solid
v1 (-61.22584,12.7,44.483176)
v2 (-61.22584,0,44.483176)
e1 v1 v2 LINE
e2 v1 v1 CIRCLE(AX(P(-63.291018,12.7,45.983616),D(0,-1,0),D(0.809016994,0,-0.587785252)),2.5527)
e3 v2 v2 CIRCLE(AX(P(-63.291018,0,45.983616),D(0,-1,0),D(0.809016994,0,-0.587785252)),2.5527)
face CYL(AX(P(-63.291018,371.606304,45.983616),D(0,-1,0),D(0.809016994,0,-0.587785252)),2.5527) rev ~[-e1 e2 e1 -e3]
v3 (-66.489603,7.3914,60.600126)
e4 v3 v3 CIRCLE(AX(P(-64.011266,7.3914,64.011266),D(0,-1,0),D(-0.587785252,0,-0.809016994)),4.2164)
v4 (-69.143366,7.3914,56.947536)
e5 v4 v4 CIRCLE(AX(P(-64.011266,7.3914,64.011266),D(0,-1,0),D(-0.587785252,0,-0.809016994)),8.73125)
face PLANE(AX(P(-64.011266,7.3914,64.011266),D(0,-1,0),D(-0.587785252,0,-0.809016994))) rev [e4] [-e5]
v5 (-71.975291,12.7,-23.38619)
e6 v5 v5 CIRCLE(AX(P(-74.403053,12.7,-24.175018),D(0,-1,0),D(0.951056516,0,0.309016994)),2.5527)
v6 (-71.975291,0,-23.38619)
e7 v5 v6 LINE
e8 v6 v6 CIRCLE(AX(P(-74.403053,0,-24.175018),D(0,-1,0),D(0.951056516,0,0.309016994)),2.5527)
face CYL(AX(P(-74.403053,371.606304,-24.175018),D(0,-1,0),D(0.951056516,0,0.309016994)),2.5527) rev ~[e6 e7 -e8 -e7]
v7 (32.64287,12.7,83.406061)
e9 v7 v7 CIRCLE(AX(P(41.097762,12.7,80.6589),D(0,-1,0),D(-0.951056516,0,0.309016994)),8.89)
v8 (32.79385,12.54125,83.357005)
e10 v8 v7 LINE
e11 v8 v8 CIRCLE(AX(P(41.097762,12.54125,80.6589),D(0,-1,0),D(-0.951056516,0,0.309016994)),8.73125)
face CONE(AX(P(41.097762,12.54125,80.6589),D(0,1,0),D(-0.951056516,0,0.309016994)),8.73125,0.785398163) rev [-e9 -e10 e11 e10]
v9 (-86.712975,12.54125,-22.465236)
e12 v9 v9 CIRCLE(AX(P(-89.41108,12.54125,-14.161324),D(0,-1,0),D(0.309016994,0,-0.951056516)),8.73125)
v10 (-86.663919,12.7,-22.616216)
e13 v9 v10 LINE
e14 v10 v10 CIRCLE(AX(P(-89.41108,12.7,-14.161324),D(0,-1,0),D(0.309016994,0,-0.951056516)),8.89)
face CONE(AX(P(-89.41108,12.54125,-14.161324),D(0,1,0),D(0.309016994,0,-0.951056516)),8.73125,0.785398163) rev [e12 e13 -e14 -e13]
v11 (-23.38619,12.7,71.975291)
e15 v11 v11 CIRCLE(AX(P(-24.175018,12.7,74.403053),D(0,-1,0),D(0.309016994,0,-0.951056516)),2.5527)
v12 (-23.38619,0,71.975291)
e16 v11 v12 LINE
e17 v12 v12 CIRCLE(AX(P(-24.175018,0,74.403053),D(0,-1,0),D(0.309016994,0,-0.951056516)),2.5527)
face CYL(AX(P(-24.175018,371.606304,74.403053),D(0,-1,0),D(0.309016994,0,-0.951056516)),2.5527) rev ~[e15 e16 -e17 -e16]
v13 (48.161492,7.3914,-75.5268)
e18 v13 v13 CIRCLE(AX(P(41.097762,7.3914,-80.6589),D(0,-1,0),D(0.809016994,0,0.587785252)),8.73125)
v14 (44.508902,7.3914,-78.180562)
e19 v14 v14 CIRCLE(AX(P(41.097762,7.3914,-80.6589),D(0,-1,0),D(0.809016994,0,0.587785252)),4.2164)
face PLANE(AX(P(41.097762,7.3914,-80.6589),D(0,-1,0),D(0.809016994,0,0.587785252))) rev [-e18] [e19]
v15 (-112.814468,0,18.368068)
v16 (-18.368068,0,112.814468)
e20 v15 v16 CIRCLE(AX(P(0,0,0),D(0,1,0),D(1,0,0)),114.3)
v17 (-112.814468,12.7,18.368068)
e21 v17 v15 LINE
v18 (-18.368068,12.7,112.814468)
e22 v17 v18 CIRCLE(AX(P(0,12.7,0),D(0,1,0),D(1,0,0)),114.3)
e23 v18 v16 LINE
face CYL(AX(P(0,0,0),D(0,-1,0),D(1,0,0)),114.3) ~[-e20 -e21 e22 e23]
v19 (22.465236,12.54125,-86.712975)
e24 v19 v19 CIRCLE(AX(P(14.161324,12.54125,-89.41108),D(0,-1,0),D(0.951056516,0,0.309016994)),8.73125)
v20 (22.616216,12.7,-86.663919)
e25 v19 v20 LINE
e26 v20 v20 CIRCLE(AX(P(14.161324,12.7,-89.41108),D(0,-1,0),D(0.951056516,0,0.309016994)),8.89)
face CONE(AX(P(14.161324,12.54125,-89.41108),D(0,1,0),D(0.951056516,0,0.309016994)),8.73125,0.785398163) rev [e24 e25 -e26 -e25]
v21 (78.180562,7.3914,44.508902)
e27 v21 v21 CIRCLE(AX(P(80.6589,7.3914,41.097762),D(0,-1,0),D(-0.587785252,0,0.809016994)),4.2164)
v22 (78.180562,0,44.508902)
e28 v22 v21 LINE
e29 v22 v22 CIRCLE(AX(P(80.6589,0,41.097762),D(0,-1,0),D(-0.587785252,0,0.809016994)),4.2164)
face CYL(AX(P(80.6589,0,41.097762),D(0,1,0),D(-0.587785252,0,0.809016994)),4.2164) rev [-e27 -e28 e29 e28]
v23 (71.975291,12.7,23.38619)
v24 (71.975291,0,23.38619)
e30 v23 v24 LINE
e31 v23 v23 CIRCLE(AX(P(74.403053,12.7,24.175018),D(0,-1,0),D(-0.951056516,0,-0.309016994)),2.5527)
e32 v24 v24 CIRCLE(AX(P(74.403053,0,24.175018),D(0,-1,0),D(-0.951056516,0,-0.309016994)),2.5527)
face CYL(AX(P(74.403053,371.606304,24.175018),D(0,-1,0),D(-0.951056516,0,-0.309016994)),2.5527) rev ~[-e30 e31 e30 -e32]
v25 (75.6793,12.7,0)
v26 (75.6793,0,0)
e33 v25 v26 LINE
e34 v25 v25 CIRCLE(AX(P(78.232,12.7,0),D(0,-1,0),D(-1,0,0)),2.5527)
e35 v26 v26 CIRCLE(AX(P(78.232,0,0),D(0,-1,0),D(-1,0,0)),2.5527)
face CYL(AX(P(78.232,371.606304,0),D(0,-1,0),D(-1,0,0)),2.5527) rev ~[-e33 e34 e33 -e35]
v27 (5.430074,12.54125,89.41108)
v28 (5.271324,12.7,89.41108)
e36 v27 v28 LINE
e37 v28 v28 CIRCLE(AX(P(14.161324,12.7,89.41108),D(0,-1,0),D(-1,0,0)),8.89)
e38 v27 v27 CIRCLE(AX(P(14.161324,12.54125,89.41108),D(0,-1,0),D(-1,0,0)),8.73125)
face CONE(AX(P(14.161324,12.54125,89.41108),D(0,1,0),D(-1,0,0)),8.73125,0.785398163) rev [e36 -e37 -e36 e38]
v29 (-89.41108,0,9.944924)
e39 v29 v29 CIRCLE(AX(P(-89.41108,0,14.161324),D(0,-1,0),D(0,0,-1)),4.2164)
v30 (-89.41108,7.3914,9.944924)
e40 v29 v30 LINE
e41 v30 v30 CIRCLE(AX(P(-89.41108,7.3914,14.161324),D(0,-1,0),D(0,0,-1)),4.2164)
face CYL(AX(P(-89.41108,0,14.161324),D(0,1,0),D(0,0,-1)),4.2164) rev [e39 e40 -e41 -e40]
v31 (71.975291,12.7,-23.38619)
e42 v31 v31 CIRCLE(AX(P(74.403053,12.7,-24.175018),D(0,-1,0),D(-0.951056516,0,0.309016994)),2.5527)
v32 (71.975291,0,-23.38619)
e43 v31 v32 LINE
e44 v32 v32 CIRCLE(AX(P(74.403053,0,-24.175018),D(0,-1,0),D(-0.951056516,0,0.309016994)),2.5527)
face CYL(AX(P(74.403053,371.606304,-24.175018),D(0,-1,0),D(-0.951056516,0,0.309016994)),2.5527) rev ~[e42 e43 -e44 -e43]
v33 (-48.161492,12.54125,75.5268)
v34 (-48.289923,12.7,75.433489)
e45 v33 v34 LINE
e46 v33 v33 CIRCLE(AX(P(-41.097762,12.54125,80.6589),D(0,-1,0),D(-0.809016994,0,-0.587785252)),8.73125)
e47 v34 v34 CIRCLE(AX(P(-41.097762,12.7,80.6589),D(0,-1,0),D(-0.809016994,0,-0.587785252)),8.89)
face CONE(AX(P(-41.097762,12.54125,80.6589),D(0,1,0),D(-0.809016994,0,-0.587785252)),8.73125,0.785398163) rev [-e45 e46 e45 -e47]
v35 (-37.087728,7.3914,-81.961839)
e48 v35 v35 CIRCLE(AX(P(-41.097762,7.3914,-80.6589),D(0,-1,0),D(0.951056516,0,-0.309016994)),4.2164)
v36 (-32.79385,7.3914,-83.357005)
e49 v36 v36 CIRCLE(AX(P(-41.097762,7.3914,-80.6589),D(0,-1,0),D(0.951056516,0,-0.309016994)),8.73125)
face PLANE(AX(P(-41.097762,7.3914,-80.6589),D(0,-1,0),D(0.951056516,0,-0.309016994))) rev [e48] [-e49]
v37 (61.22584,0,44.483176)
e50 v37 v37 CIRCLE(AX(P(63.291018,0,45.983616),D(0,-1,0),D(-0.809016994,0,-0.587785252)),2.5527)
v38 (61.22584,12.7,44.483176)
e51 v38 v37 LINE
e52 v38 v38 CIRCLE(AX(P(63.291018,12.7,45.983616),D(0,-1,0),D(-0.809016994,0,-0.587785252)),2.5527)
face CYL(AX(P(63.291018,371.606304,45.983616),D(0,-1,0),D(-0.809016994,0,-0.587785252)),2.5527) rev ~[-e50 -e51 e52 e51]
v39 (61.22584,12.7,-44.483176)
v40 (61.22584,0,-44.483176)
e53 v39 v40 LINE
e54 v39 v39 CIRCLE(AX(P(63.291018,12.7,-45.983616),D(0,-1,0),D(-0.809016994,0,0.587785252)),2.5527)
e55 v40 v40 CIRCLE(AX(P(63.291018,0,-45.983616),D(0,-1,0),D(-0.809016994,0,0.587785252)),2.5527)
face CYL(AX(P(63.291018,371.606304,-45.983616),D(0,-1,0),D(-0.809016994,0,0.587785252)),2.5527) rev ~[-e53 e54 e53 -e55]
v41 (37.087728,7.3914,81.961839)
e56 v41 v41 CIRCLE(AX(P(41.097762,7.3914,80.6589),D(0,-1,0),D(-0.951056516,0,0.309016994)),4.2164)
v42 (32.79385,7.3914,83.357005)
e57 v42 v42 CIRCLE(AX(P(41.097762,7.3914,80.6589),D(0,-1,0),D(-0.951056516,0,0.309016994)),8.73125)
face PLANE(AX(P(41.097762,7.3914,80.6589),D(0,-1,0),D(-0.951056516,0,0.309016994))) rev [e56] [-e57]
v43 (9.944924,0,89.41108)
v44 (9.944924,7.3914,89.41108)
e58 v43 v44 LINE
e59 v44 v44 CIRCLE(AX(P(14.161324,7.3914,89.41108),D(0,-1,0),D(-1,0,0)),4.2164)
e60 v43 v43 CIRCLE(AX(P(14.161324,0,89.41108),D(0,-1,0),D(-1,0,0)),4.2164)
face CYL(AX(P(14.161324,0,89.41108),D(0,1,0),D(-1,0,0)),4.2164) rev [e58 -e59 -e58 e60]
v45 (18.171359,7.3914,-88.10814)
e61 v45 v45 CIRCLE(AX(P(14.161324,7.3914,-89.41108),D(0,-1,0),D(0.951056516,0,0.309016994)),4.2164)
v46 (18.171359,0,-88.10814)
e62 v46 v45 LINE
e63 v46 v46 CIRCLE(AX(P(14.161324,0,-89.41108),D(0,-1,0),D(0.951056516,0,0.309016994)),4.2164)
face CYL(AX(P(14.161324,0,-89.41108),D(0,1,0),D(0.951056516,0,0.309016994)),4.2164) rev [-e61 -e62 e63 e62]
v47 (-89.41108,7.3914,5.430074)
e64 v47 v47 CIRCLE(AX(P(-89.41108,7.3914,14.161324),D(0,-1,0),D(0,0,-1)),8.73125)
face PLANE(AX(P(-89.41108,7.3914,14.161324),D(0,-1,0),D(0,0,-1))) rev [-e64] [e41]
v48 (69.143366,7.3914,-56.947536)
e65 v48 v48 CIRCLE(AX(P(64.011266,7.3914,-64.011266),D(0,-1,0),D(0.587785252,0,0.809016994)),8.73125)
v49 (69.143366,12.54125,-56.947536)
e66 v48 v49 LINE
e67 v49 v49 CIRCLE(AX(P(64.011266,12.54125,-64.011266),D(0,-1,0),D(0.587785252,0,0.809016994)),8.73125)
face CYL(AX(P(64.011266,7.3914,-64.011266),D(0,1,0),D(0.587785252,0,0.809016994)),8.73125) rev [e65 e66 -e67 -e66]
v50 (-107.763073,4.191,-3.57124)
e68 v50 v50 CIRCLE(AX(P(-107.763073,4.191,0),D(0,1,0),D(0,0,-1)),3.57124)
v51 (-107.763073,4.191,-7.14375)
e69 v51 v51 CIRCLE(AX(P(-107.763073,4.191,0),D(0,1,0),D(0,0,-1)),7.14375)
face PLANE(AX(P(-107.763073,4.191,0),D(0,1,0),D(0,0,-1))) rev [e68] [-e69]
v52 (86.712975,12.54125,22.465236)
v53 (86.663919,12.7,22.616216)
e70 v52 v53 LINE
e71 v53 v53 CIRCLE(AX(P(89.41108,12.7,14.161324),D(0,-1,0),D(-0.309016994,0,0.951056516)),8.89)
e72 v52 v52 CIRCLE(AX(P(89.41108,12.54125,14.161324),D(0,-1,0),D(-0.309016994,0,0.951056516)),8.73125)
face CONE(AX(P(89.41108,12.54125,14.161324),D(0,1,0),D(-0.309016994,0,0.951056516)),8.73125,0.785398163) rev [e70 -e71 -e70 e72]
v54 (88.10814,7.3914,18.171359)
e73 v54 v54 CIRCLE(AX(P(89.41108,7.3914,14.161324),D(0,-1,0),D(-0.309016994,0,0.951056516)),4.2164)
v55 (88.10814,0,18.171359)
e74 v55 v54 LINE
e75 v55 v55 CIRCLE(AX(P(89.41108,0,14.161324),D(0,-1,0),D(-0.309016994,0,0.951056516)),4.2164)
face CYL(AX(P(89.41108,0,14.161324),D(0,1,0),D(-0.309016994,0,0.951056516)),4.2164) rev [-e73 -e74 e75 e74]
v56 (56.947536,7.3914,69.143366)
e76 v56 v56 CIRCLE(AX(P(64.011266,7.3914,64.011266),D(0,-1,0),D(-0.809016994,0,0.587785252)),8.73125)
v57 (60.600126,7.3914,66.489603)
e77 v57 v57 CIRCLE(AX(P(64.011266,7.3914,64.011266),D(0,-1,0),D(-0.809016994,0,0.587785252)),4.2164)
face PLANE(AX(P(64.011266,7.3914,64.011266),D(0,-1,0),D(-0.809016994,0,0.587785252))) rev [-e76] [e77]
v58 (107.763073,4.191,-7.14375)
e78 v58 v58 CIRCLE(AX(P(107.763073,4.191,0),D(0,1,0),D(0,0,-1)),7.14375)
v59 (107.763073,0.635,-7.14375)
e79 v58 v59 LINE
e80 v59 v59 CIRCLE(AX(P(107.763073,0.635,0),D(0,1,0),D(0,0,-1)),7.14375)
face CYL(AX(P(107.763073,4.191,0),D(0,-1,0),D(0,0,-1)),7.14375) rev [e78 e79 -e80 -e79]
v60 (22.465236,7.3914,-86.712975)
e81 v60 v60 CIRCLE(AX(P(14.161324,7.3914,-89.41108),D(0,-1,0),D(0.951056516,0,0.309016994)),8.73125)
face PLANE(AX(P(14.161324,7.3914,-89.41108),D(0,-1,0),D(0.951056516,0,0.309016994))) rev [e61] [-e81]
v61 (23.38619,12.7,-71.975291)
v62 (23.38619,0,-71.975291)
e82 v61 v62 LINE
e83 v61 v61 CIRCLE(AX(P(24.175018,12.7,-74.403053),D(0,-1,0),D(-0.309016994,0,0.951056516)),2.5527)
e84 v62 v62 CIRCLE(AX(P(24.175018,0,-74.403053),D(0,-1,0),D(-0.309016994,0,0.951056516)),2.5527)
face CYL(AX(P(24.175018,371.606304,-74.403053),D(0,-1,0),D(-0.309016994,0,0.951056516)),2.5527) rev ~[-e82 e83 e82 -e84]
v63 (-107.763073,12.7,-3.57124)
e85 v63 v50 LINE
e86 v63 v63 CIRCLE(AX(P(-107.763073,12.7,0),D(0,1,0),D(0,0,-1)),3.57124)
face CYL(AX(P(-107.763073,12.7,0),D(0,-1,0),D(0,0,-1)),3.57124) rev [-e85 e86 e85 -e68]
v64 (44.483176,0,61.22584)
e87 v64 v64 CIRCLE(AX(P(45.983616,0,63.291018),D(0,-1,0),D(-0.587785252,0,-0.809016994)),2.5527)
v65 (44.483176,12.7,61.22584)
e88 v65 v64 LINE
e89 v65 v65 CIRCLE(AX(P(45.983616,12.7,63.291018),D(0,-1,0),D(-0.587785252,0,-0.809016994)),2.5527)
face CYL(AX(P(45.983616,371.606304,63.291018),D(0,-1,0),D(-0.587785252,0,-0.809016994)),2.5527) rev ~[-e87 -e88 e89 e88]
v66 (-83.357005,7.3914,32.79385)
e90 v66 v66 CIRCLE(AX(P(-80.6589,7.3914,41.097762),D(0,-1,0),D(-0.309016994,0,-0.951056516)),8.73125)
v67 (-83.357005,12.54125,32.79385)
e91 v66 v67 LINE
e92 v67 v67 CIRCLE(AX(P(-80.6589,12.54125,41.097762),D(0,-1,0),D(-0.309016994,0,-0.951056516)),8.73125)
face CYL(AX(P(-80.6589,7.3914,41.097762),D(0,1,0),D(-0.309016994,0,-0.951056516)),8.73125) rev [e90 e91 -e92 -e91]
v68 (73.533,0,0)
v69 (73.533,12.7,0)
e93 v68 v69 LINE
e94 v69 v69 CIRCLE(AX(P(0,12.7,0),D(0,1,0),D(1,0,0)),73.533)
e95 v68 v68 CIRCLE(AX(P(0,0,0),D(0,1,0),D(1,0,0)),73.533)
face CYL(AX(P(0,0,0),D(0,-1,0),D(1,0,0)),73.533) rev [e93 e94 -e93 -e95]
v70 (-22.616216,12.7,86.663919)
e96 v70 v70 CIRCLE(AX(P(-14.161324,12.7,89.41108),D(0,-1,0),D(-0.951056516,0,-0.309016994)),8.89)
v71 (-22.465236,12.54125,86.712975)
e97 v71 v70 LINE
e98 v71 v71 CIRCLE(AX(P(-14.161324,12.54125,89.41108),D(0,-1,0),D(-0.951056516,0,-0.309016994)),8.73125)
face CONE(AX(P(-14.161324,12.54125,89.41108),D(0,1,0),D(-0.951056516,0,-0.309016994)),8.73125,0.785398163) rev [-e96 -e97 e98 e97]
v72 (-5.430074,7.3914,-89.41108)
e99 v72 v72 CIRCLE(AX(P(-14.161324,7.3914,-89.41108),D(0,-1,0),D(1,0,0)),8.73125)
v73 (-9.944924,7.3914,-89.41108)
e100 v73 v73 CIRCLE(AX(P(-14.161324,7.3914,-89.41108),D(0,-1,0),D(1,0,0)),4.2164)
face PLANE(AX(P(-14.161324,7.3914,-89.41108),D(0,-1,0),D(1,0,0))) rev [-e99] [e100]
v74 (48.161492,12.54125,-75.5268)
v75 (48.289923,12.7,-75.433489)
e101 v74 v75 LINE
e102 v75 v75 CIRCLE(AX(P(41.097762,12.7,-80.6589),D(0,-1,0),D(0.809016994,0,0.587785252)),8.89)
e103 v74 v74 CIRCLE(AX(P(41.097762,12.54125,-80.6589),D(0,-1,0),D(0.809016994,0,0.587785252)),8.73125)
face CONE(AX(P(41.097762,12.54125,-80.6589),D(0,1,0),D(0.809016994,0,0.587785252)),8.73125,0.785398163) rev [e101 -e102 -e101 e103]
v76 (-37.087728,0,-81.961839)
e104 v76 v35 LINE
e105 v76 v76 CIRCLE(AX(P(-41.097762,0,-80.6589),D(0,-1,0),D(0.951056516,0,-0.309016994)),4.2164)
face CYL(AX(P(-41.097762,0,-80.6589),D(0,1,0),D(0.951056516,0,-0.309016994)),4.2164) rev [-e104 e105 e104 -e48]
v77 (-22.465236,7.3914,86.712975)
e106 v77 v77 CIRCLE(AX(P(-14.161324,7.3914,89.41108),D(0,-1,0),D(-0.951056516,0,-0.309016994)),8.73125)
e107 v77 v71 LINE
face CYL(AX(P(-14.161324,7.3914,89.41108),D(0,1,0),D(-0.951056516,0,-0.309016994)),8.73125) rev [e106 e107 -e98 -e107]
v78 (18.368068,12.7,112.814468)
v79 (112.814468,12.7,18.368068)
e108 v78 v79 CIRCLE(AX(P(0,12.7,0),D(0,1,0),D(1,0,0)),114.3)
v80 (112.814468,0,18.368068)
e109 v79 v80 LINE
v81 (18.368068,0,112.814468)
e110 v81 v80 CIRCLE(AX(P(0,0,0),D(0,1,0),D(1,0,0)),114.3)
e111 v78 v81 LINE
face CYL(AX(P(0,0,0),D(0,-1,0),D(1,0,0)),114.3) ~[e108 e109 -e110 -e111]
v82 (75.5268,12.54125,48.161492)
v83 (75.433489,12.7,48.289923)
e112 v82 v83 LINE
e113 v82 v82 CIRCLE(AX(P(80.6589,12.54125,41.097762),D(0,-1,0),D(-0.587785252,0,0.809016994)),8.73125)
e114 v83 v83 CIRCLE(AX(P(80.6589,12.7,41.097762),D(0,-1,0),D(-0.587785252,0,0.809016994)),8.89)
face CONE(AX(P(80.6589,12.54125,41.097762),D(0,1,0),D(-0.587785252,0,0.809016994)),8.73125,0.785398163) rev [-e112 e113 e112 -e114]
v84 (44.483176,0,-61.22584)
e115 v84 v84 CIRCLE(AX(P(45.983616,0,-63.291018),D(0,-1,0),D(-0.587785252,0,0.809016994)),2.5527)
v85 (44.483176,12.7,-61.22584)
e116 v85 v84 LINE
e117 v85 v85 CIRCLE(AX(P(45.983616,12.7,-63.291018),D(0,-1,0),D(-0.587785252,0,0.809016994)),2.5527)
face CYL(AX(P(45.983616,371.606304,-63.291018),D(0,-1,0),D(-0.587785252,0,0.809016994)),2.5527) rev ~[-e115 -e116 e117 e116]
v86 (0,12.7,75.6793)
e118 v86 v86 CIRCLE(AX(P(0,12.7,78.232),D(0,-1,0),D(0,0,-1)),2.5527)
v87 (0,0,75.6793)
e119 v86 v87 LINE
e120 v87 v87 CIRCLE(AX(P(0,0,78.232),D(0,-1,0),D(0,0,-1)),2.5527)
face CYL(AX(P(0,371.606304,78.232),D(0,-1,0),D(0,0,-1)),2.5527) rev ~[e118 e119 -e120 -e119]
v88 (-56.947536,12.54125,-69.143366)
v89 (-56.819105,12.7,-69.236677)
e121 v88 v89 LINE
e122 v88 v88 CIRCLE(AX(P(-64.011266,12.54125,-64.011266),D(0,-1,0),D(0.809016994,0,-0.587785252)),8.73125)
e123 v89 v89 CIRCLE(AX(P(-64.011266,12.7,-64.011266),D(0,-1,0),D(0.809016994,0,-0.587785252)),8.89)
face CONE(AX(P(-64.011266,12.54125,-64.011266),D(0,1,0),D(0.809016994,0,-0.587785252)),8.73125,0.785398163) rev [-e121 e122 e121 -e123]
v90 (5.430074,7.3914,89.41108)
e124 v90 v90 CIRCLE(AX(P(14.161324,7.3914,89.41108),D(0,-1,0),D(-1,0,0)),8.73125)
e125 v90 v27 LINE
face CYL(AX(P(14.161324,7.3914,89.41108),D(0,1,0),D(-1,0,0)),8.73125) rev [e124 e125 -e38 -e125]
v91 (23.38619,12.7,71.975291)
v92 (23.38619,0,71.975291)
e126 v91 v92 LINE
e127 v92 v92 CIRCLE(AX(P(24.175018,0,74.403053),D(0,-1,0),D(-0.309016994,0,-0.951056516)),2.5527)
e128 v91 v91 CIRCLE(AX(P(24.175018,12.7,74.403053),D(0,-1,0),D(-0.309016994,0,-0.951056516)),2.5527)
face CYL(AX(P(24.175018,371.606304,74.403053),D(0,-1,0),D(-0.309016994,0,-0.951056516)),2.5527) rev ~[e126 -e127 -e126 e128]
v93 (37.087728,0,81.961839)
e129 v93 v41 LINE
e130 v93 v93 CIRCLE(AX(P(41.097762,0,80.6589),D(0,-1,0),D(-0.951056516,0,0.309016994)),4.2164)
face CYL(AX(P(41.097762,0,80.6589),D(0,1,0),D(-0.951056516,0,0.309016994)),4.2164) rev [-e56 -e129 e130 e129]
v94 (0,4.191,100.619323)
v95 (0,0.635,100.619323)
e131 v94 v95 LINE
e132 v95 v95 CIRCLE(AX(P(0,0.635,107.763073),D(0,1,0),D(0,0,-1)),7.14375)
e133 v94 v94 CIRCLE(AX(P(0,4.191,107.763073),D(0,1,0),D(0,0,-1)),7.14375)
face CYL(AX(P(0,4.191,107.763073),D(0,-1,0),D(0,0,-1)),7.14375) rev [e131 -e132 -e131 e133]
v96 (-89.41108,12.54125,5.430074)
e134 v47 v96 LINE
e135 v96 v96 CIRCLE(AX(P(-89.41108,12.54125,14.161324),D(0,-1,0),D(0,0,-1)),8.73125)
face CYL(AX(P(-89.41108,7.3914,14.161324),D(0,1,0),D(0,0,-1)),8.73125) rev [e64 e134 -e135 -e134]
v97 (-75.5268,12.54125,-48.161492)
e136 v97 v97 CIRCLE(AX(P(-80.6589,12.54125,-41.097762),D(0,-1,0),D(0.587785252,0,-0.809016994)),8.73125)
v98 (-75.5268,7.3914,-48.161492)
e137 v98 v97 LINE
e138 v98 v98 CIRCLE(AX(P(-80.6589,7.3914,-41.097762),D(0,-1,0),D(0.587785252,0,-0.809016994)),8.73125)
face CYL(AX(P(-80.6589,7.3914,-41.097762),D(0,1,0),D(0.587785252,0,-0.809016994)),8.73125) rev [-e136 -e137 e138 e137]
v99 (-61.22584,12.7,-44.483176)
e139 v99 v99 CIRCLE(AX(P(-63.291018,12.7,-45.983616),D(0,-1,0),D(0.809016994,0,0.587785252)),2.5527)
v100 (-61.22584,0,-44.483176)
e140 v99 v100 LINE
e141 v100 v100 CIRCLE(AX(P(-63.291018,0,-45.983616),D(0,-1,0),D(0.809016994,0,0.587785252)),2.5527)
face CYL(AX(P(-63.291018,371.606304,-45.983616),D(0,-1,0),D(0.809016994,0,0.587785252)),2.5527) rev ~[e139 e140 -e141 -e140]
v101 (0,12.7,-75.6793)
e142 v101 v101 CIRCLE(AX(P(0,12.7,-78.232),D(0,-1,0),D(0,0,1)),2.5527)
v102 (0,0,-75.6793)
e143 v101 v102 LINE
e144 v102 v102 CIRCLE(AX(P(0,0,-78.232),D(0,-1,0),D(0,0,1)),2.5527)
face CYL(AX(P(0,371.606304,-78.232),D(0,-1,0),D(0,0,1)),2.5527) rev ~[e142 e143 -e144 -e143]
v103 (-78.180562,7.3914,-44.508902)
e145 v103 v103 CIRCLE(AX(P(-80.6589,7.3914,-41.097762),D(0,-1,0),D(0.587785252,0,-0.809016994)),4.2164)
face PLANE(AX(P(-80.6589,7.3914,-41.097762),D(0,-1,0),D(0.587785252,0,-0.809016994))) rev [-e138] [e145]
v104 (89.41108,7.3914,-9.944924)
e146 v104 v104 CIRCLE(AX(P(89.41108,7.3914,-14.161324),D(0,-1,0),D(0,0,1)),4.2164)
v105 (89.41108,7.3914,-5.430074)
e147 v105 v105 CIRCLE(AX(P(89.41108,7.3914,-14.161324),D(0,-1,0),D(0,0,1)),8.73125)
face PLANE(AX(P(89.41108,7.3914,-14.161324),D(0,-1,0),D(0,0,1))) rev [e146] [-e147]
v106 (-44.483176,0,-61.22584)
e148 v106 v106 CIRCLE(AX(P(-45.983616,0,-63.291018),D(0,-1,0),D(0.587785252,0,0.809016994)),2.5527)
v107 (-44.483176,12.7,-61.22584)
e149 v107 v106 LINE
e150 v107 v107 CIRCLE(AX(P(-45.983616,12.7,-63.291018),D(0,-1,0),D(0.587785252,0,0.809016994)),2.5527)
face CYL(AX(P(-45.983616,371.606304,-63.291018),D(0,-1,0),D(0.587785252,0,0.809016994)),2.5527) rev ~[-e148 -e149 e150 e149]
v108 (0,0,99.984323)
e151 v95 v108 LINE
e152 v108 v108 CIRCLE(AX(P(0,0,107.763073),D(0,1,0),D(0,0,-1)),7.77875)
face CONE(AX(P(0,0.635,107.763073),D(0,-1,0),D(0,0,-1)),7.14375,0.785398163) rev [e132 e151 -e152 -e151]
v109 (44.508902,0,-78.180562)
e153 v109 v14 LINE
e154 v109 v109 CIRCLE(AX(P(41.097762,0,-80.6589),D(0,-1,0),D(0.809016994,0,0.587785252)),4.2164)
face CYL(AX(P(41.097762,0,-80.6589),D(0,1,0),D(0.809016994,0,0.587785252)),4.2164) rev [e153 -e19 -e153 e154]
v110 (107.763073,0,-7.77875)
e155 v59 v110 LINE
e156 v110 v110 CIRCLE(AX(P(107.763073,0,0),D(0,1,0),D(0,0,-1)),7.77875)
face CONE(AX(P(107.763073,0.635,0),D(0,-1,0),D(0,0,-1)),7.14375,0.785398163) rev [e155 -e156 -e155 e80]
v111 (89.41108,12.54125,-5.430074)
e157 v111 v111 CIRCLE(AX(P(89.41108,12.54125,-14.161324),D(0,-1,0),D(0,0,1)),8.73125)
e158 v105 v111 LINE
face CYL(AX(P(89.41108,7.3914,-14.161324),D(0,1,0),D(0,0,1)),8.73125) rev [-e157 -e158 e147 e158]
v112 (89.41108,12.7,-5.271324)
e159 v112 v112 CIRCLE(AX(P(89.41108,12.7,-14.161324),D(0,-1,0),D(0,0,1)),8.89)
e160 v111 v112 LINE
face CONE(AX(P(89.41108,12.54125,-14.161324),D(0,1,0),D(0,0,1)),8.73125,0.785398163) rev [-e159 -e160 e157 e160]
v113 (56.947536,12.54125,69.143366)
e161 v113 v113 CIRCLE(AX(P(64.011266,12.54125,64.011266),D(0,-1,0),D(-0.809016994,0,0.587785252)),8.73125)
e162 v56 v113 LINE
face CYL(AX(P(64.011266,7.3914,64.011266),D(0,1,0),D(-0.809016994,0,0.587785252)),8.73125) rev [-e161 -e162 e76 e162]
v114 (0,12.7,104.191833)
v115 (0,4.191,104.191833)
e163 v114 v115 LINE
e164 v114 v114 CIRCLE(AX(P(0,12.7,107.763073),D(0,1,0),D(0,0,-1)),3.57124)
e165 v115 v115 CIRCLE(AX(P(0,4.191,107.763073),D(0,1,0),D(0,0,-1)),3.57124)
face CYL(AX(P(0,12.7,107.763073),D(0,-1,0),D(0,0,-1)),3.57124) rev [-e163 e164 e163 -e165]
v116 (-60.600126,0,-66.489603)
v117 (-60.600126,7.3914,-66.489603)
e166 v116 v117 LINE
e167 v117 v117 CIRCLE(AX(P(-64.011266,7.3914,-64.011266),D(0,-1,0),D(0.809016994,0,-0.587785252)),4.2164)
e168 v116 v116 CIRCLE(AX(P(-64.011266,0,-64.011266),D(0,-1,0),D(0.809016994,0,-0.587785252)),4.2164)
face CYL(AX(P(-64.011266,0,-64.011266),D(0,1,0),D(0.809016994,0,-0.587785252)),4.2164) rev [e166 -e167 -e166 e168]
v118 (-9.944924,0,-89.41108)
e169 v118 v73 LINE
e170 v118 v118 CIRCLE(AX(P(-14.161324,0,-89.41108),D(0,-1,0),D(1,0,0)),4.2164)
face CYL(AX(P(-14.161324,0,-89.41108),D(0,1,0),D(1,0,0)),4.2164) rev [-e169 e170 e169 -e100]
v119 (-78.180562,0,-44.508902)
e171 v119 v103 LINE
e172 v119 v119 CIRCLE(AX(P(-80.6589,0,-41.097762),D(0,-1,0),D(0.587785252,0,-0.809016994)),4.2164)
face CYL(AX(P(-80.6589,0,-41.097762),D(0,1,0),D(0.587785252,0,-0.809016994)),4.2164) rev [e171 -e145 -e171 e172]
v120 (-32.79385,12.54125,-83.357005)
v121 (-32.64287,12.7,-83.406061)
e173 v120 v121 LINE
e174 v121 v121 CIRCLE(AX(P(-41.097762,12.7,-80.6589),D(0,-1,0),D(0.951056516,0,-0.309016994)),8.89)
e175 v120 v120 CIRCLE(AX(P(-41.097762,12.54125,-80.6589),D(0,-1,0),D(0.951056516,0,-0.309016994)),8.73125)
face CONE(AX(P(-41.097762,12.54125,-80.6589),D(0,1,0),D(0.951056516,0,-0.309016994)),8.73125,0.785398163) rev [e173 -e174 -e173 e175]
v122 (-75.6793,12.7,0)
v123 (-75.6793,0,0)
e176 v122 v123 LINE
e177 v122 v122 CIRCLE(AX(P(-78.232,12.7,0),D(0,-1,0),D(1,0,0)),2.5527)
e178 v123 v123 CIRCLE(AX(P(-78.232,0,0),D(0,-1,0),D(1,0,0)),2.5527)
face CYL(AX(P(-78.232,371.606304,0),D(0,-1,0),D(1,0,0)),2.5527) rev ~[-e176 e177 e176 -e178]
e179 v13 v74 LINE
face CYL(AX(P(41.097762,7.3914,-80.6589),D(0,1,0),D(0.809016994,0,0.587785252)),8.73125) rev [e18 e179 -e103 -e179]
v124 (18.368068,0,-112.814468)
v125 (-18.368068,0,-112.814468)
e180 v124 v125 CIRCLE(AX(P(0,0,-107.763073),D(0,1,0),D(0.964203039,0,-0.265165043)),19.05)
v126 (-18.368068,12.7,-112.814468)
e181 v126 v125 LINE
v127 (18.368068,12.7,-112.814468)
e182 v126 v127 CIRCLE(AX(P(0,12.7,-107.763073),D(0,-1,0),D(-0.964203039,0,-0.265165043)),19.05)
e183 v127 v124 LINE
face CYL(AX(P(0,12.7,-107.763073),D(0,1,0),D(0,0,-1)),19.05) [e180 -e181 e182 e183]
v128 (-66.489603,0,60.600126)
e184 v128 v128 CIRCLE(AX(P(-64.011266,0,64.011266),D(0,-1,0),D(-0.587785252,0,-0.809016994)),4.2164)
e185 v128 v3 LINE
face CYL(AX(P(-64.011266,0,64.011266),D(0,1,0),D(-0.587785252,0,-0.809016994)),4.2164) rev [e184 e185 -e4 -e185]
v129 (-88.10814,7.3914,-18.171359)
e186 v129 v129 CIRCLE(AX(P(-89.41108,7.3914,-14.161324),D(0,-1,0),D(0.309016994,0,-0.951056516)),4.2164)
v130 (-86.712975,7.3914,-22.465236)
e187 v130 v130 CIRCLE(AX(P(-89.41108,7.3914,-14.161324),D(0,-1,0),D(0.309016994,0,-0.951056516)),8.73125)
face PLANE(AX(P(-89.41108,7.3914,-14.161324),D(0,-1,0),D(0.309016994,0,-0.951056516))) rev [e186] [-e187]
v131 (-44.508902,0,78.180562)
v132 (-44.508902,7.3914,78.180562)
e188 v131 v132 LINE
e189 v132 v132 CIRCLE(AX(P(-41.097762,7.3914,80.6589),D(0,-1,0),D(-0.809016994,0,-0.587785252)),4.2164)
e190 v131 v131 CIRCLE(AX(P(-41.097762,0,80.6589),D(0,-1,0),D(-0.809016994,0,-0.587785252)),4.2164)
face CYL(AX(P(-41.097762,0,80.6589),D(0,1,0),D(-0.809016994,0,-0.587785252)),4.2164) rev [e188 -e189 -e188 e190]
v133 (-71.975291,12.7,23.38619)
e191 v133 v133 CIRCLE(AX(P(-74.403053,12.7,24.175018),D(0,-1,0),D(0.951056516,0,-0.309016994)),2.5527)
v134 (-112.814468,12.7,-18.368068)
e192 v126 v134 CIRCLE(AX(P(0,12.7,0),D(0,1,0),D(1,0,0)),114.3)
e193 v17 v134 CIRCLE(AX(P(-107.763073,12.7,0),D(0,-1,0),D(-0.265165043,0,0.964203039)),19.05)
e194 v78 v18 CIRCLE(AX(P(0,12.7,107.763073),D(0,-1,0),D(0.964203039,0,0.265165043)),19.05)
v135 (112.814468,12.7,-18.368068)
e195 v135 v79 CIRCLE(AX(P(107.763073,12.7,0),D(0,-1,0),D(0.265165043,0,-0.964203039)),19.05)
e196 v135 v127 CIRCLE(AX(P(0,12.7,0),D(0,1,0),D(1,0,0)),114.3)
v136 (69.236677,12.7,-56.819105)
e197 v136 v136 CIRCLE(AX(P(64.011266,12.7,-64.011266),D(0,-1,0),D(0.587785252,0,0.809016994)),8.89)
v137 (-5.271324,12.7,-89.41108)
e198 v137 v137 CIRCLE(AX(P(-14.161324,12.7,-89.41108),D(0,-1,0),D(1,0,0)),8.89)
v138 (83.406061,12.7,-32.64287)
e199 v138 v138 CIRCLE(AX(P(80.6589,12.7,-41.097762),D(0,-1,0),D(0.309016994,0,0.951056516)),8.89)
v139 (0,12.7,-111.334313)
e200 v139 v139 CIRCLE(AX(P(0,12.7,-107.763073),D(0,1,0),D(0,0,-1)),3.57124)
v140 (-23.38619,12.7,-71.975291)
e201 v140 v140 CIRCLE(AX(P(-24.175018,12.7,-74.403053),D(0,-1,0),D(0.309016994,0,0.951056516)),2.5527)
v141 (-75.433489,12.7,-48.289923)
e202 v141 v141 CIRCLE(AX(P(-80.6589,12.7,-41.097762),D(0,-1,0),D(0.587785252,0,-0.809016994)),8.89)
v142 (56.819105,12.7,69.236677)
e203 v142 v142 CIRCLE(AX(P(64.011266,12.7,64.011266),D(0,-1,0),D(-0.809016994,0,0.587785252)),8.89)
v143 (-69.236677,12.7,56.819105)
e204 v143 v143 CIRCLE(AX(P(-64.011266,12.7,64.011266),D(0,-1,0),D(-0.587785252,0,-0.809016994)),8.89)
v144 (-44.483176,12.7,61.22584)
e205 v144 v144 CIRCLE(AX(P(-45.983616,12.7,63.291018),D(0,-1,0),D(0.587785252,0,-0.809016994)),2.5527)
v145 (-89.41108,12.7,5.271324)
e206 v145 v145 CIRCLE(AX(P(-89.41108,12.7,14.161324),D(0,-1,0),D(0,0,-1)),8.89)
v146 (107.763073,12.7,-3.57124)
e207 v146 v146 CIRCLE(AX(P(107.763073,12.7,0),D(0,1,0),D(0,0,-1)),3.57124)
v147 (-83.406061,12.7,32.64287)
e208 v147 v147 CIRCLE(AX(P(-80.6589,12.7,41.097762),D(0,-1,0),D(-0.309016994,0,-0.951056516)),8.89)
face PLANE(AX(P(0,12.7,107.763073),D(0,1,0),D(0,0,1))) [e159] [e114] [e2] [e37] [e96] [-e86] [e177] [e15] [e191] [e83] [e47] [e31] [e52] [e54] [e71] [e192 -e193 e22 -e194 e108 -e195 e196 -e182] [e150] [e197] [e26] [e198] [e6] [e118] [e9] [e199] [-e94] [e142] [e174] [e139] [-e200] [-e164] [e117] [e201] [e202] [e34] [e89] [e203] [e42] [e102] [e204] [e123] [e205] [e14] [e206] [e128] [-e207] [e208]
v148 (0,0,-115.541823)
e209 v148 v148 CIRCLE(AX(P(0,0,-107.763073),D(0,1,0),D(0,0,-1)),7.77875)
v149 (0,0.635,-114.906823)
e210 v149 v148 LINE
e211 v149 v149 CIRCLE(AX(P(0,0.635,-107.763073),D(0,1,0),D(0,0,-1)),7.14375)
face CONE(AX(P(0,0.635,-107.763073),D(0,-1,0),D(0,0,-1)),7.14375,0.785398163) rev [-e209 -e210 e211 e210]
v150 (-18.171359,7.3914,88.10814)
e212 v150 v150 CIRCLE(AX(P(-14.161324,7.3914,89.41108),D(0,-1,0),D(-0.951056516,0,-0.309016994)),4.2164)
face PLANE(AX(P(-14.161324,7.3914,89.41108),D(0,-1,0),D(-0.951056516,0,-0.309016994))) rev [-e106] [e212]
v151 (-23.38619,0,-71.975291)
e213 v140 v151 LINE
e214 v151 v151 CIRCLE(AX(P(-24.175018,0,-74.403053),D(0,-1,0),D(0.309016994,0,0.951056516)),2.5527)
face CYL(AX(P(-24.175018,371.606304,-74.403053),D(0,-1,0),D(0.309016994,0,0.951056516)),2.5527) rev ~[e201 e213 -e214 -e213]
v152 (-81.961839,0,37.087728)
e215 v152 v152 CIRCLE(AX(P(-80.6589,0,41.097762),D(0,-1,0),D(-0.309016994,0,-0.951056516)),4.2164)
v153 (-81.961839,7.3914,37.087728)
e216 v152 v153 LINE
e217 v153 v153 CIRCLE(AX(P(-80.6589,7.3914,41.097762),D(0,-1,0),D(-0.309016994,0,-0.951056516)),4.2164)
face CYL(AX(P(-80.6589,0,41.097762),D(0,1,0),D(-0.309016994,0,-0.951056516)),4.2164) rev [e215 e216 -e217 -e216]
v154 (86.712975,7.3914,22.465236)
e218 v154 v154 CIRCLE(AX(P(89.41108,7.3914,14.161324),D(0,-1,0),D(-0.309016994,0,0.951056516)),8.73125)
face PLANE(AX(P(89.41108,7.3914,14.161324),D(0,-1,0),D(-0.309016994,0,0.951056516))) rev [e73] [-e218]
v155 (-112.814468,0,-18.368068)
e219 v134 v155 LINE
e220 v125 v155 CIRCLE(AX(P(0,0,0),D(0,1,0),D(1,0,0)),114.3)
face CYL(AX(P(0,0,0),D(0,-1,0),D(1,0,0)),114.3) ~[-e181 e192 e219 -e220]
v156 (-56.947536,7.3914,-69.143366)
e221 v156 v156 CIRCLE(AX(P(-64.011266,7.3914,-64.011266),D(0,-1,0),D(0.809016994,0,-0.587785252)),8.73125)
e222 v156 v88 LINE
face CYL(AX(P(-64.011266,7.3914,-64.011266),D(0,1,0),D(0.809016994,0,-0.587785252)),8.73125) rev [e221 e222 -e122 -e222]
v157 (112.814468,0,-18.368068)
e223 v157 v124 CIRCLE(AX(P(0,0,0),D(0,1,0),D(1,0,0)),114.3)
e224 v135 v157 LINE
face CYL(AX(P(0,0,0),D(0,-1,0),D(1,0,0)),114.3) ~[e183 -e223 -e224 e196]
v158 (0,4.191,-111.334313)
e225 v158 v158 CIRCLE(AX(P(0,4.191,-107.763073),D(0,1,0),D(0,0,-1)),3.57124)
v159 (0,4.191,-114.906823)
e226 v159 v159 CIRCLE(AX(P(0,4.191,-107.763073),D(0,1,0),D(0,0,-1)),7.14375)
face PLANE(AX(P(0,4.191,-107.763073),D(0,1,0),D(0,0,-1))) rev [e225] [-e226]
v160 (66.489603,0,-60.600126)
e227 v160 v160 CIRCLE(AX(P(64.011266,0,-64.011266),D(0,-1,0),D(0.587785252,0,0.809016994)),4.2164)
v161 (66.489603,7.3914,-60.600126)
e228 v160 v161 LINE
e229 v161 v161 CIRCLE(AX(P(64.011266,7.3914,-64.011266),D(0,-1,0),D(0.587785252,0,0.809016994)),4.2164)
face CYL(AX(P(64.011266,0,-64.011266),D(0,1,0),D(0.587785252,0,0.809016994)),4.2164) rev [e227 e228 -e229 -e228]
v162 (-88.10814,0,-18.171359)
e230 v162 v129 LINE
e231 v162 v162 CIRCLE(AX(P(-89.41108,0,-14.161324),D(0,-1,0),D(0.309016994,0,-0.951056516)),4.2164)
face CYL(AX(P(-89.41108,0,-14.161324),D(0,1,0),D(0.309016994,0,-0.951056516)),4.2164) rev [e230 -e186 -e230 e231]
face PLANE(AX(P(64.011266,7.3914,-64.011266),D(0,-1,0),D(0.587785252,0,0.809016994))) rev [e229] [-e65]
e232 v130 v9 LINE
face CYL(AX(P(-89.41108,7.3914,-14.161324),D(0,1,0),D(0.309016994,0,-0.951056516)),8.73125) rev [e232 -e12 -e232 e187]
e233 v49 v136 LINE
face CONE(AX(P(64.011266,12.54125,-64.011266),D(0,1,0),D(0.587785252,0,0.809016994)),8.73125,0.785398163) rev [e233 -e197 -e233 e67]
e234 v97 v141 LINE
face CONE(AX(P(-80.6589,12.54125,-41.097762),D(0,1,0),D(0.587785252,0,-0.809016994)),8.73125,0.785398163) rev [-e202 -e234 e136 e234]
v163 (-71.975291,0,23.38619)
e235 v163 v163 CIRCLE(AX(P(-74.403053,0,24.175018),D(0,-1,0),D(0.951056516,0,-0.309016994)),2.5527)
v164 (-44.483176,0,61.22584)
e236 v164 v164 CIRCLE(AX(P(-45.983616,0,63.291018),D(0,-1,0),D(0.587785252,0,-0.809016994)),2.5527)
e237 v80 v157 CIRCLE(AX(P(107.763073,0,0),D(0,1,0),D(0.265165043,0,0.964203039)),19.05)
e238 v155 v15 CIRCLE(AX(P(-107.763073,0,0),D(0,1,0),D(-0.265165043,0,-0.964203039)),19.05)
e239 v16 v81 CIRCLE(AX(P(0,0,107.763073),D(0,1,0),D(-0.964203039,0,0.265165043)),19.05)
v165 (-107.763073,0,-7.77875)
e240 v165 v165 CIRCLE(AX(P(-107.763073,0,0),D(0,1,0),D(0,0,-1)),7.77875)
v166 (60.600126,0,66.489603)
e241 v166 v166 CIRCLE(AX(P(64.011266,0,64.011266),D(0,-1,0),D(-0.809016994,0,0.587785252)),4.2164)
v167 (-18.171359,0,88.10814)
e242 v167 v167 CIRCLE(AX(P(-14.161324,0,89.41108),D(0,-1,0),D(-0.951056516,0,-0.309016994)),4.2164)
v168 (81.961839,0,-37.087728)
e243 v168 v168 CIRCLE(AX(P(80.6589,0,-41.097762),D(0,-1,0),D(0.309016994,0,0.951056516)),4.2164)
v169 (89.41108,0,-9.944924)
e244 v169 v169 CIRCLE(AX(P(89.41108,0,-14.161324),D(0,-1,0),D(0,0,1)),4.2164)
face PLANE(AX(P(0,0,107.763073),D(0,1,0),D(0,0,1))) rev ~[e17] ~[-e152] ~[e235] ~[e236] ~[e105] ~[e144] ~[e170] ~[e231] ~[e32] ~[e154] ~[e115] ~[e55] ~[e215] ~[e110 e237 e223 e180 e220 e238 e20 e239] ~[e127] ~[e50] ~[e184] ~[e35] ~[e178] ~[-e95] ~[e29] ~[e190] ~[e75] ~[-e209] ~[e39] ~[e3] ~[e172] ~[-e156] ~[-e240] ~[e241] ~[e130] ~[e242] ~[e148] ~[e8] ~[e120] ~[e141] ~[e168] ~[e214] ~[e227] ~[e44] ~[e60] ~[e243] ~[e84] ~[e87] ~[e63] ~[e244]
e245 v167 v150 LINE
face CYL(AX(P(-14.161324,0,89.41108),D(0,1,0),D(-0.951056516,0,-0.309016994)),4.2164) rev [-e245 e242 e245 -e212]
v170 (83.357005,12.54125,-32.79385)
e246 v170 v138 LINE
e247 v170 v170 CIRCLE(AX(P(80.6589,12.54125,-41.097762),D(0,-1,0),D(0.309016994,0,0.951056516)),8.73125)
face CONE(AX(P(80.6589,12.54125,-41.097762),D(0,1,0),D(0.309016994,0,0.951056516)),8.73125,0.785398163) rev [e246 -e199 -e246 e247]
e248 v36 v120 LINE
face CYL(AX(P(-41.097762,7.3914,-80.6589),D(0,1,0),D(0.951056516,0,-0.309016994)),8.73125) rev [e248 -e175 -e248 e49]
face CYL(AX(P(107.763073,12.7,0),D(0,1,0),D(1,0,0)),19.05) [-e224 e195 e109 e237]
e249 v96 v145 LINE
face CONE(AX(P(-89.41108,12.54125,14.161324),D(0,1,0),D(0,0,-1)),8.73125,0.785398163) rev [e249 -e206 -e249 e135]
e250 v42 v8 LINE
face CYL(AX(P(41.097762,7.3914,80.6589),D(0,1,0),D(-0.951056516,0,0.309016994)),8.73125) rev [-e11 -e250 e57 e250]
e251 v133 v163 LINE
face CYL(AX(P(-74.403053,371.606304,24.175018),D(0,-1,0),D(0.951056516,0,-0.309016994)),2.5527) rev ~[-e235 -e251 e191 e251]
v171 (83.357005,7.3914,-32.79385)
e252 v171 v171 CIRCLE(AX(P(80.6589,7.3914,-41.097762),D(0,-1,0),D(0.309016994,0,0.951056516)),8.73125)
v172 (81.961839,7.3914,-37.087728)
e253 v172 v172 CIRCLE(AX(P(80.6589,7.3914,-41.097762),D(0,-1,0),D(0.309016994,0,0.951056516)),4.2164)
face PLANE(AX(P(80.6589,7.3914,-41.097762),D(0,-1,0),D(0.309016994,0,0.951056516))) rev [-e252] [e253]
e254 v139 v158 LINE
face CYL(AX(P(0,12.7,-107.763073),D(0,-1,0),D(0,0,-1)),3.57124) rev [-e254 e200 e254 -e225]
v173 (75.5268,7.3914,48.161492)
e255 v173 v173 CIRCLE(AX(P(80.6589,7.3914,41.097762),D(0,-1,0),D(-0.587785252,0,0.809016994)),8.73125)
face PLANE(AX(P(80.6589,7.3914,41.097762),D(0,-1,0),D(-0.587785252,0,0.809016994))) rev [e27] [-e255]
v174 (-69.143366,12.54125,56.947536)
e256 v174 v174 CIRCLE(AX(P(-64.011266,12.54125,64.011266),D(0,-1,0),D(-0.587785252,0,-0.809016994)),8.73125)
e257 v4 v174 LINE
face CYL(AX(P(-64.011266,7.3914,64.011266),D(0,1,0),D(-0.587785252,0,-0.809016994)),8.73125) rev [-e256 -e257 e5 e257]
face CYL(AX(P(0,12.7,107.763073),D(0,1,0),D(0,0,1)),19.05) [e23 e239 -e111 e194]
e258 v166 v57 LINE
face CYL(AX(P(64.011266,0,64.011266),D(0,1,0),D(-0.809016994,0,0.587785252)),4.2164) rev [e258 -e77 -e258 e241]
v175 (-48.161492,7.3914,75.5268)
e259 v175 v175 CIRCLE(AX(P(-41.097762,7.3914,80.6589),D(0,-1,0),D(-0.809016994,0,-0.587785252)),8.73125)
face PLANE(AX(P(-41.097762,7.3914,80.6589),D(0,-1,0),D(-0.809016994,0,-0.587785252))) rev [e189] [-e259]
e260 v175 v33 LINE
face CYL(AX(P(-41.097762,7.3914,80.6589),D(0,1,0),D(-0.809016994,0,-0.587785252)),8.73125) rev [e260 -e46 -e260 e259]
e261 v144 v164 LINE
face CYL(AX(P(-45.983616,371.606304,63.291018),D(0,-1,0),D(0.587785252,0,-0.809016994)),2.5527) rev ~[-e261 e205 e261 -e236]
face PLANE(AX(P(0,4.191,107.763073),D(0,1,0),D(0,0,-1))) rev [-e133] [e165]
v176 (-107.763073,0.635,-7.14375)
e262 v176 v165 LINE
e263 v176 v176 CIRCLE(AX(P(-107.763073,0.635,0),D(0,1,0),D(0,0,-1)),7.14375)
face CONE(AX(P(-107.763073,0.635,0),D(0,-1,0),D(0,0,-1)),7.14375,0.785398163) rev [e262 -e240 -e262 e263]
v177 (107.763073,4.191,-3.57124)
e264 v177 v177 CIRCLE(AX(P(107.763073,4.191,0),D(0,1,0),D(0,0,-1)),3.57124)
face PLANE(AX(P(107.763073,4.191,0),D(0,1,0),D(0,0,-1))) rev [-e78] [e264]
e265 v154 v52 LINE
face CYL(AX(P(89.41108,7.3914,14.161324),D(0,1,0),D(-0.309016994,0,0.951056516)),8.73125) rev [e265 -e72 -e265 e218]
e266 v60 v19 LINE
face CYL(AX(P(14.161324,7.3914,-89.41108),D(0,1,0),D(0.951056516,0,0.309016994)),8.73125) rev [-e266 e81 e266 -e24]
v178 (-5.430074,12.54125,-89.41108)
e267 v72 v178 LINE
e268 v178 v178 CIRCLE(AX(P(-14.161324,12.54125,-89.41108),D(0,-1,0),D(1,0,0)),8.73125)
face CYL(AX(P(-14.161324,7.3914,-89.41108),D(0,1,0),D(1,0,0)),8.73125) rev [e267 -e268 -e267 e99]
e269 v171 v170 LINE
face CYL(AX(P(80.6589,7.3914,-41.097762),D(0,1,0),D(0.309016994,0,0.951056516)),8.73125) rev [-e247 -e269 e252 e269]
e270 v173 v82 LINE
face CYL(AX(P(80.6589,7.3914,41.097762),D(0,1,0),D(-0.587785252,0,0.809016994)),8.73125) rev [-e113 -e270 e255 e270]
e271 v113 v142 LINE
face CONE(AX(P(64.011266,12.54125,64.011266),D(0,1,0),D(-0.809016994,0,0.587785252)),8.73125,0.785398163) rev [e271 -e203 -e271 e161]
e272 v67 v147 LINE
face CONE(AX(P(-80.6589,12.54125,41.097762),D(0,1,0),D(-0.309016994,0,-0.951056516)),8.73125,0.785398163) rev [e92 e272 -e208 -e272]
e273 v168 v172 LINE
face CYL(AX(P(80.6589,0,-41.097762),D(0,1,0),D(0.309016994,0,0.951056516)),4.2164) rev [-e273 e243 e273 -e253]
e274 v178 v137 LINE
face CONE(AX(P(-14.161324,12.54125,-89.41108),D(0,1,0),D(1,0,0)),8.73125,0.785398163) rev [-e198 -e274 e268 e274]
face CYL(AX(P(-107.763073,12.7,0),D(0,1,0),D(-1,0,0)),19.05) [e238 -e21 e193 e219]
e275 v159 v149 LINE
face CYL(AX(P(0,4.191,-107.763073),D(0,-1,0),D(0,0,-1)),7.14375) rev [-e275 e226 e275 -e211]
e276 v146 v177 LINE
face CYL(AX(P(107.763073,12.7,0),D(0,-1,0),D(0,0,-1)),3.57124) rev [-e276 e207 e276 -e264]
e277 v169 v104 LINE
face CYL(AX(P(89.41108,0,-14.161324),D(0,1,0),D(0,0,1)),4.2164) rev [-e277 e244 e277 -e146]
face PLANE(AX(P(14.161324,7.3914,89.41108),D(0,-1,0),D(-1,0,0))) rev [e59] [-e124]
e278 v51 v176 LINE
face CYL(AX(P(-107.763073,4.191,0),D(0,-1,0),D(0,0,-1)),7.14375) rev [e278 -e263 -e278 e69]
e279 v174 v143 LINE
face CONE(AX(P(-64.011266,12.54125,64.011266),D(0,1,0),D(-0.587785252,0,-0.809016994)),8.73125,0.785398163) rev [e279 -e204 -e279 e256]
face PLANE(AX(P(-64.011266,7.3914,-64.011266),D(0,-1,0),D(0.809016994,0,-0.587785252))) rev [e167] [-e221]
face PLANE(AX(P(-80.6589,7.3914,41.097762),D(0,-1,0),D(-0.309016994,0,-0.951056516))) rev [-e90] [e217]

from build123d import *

# Parameters (mm, degrees)
SKETCH3_R                                    = 114.3
SKETCH3_R_2                                  = 73.533
BOSS_EXTRUDE1_DEPTH                          = 12.7
SKETCH16_R                                   = 19.05
BOSS_EXTRUDE2_DEPTH                          = 12.7
CIRPATTERN6_COUNT                            = 4
CIRPATTERN2_COUNT                            = 20
F_1_4_20_TAPPED_HOLE2_D                      = 5.1054
CIRPATTERN4_COUNT                            = 20
CBORE_FOR_1_4_BINDING_HEAD_MACHINE_S_2_COUNT = 2
CBORE_FOR_1_4_BINDING_HEAD_MACHINE_S_2_PITCH = 152.4
CBORE_FOR_1_4_BINDING_HEAD_MACHINE_S_3_COUNT = 2
CBORE_FOR_1_4_BINDING_HEAD_MACHINE_S_3_PITCH = 215.526146906
CBORE_FOR_1_4_BINDING_HEAD_MACHINE_S_4_COUNT = 2
CBORE_FOR_1_4_BINDING_HEAD_MACHINE_S_4_PITCH = 152.4


with BuildPart() as part:
    # Sketch3 → Boss-Extrude1 (new body)
    with BuildSketch(Plane(origin=(0, 0, 0), x_dir=(1, 0, 0), z_dir=(0, 1, 0))):
        Circle(SKETCH3_R)
        Circle(SKETCH3_R_2, mode=Mode.SUBTRACT)
    extrude(amount=BOSS_EXTRUDE1_DEPTH)

    # Sketch16 → Boss-Extrude2 (add)
    with BuildSketch(Plane(origin=(0, 12.7, 0), x_dir=(1, 0, 0), z_dir=(0, 1, 0))):
        with Locations((107.763073453, 0)):
            Circle(SKETCH16_R)
    boss_extrude2 = extrude(amount=-BOSS_EXTRUDE2_DEPTH)

    # CirPattern6: Boss-Extrude2 ×4 about axis
    cirpattern6_axis = Axis((0, 12.7, 0), (0, -1, 0))
    for i in range(1, CIRPATTERN6_COUNT):
        add(boss_extrude2.rotate(cirpattern6_axis, i * 360 / CIRPATTERN6_COUNT))

    # Sketch8 → CBORE for 5/16 Binding Head Machine Screw1 (revolve, cut)
    with BuildSketch(Plane(origin=(89.411079645, 12.7, -14.161323808), x_dir=(0, 0, 1), z_dir=(1, 0, 0))):
        Polygon((0, 0), (0, 12.7), (4.2164, 12.7), (4.2164, 5.3086), (8.73125, 5.3086), (8.73125, 0.15875), (8.89, 0), align=None)
    cbore_for_5_16_binding_head_machine_scre = revolve(axis=Axis((89.411079645, 19.05, -14.161323808), (0, -1, 0)), mode=Mode.SUBTRACT)

    # CirPattern2: CBORE for 5/16 Binding Head Machine Screw1 ×20 about axis
    cirpattern2_axis = Axis((0, 12.7, 0), (0, -1, 0))
    for i in range(1, CIRPATTERN2_COUNT):
        add(cbore_for_5_16_binding_head_machine_scre.rotate(cirpattern2_axis, i * 360 / CIRPATTERN2_COUNT), mode=Mode.SUBTRACT)

    # 1/4-20 Tapped Hole2 (through all)
    with Locations(Plane(origin=(0, 12.7, 0), x_dir=(1, 0, 0), z_dir=(0, 1, 0))):
        with Locations((78.232, 0)):
            f_1_4_20_tapped_hole2 = Hole(F_1_4_20_TAPPED_HOLE2_D / 2)

    # CirPattern4: 1/4-20 Tapped Hole2 ×20 about axis
    cirpattern4_axis = Axis((0, 12.7, 0), (0, -1, 0))
    for i in range(1, CIRPATTERN4_COUNT):
        add(f_1_4_20_tapped_hole2.rotate(cirpattern4_axis, i * 360 / CIRPATTERN4_COUNT), mode=Mode.SUBTRACT)

    # Sketch19 → CBORE for 1/4 Binding Head Machine Screw1 (revolve, cut)
    with BuildSketch(Plane(origin=(0, 0, 107.763073453), x_dir=(0, 0, -1), z_dir=(1, 0, 0))):
        Polygon((0, 0), (0, 12.7), (3.57124, 12.7), (3.57124, 4.191), (7.14375, 4.191), (7.14375, 0.635), (7.77875, 0), align=None)
    cbore_for_1_4_binding_head_machine_screw = revolve(axis=Axis((0, -6.35, 107.763073453), (0, 1, 0)), mode=Mode.SUBTRACT)

    # CBORE for 1_4 Binding Head Machine S 2: CBORE for 1/4 Binding Head Machine Screw1 ×2
    with Locations(*[Vector(0.7071067811865476, 0, -0.7071067811865475) * (i * CBORE_FOR_1_4_BINDING_HEAD_MACHINE_S_2_PITCH) for i in range(1, CBORE_FOR_1_4_BINDING_HEAD_MACHINE_S_2_COUNT)]):
        add(cbore_for_1_4_binding_head_machine_screw, mode=Mode.SUBTRACT)

    # CBORE for 1_4 Binding Head Machine S 3: CBORE for 1/4 Binding Head Machine Screw1 ×2
    with Locations(*[(0, 0, -i * CBORE_FOR_1_4_BINDING_HEAD_MACHINE_S_3_PITCH) for i in range(1, CBORE_FOR_1_4_BINDING_HEAD_MACHINE_S_3_COUNT)]):
        add(cbore_for_1_4_binding_head_machine_screw, mode=Mode.SUBTRACT)

    # CBORE for 1_4 Binding Head Machine S 4: CBORE for 1/4 Binding Head Machine Screw1 ×2
    with Locations(*[Vector(-0.7071067811865475, 0, -0.7071067811865477) * (i * CBORE_FOR_1_4_BINDING_HEAD_MACHINE_S_4_PITCH) for i in range(1, CBORE_FOR_1_4_BINDING_HEAD_MACHINE_S_4_COUNT)]):
        add(cbore_for_1_4_binding_head_machine_screw, mode=Mode.SUBTRACT)


solid = part.part
